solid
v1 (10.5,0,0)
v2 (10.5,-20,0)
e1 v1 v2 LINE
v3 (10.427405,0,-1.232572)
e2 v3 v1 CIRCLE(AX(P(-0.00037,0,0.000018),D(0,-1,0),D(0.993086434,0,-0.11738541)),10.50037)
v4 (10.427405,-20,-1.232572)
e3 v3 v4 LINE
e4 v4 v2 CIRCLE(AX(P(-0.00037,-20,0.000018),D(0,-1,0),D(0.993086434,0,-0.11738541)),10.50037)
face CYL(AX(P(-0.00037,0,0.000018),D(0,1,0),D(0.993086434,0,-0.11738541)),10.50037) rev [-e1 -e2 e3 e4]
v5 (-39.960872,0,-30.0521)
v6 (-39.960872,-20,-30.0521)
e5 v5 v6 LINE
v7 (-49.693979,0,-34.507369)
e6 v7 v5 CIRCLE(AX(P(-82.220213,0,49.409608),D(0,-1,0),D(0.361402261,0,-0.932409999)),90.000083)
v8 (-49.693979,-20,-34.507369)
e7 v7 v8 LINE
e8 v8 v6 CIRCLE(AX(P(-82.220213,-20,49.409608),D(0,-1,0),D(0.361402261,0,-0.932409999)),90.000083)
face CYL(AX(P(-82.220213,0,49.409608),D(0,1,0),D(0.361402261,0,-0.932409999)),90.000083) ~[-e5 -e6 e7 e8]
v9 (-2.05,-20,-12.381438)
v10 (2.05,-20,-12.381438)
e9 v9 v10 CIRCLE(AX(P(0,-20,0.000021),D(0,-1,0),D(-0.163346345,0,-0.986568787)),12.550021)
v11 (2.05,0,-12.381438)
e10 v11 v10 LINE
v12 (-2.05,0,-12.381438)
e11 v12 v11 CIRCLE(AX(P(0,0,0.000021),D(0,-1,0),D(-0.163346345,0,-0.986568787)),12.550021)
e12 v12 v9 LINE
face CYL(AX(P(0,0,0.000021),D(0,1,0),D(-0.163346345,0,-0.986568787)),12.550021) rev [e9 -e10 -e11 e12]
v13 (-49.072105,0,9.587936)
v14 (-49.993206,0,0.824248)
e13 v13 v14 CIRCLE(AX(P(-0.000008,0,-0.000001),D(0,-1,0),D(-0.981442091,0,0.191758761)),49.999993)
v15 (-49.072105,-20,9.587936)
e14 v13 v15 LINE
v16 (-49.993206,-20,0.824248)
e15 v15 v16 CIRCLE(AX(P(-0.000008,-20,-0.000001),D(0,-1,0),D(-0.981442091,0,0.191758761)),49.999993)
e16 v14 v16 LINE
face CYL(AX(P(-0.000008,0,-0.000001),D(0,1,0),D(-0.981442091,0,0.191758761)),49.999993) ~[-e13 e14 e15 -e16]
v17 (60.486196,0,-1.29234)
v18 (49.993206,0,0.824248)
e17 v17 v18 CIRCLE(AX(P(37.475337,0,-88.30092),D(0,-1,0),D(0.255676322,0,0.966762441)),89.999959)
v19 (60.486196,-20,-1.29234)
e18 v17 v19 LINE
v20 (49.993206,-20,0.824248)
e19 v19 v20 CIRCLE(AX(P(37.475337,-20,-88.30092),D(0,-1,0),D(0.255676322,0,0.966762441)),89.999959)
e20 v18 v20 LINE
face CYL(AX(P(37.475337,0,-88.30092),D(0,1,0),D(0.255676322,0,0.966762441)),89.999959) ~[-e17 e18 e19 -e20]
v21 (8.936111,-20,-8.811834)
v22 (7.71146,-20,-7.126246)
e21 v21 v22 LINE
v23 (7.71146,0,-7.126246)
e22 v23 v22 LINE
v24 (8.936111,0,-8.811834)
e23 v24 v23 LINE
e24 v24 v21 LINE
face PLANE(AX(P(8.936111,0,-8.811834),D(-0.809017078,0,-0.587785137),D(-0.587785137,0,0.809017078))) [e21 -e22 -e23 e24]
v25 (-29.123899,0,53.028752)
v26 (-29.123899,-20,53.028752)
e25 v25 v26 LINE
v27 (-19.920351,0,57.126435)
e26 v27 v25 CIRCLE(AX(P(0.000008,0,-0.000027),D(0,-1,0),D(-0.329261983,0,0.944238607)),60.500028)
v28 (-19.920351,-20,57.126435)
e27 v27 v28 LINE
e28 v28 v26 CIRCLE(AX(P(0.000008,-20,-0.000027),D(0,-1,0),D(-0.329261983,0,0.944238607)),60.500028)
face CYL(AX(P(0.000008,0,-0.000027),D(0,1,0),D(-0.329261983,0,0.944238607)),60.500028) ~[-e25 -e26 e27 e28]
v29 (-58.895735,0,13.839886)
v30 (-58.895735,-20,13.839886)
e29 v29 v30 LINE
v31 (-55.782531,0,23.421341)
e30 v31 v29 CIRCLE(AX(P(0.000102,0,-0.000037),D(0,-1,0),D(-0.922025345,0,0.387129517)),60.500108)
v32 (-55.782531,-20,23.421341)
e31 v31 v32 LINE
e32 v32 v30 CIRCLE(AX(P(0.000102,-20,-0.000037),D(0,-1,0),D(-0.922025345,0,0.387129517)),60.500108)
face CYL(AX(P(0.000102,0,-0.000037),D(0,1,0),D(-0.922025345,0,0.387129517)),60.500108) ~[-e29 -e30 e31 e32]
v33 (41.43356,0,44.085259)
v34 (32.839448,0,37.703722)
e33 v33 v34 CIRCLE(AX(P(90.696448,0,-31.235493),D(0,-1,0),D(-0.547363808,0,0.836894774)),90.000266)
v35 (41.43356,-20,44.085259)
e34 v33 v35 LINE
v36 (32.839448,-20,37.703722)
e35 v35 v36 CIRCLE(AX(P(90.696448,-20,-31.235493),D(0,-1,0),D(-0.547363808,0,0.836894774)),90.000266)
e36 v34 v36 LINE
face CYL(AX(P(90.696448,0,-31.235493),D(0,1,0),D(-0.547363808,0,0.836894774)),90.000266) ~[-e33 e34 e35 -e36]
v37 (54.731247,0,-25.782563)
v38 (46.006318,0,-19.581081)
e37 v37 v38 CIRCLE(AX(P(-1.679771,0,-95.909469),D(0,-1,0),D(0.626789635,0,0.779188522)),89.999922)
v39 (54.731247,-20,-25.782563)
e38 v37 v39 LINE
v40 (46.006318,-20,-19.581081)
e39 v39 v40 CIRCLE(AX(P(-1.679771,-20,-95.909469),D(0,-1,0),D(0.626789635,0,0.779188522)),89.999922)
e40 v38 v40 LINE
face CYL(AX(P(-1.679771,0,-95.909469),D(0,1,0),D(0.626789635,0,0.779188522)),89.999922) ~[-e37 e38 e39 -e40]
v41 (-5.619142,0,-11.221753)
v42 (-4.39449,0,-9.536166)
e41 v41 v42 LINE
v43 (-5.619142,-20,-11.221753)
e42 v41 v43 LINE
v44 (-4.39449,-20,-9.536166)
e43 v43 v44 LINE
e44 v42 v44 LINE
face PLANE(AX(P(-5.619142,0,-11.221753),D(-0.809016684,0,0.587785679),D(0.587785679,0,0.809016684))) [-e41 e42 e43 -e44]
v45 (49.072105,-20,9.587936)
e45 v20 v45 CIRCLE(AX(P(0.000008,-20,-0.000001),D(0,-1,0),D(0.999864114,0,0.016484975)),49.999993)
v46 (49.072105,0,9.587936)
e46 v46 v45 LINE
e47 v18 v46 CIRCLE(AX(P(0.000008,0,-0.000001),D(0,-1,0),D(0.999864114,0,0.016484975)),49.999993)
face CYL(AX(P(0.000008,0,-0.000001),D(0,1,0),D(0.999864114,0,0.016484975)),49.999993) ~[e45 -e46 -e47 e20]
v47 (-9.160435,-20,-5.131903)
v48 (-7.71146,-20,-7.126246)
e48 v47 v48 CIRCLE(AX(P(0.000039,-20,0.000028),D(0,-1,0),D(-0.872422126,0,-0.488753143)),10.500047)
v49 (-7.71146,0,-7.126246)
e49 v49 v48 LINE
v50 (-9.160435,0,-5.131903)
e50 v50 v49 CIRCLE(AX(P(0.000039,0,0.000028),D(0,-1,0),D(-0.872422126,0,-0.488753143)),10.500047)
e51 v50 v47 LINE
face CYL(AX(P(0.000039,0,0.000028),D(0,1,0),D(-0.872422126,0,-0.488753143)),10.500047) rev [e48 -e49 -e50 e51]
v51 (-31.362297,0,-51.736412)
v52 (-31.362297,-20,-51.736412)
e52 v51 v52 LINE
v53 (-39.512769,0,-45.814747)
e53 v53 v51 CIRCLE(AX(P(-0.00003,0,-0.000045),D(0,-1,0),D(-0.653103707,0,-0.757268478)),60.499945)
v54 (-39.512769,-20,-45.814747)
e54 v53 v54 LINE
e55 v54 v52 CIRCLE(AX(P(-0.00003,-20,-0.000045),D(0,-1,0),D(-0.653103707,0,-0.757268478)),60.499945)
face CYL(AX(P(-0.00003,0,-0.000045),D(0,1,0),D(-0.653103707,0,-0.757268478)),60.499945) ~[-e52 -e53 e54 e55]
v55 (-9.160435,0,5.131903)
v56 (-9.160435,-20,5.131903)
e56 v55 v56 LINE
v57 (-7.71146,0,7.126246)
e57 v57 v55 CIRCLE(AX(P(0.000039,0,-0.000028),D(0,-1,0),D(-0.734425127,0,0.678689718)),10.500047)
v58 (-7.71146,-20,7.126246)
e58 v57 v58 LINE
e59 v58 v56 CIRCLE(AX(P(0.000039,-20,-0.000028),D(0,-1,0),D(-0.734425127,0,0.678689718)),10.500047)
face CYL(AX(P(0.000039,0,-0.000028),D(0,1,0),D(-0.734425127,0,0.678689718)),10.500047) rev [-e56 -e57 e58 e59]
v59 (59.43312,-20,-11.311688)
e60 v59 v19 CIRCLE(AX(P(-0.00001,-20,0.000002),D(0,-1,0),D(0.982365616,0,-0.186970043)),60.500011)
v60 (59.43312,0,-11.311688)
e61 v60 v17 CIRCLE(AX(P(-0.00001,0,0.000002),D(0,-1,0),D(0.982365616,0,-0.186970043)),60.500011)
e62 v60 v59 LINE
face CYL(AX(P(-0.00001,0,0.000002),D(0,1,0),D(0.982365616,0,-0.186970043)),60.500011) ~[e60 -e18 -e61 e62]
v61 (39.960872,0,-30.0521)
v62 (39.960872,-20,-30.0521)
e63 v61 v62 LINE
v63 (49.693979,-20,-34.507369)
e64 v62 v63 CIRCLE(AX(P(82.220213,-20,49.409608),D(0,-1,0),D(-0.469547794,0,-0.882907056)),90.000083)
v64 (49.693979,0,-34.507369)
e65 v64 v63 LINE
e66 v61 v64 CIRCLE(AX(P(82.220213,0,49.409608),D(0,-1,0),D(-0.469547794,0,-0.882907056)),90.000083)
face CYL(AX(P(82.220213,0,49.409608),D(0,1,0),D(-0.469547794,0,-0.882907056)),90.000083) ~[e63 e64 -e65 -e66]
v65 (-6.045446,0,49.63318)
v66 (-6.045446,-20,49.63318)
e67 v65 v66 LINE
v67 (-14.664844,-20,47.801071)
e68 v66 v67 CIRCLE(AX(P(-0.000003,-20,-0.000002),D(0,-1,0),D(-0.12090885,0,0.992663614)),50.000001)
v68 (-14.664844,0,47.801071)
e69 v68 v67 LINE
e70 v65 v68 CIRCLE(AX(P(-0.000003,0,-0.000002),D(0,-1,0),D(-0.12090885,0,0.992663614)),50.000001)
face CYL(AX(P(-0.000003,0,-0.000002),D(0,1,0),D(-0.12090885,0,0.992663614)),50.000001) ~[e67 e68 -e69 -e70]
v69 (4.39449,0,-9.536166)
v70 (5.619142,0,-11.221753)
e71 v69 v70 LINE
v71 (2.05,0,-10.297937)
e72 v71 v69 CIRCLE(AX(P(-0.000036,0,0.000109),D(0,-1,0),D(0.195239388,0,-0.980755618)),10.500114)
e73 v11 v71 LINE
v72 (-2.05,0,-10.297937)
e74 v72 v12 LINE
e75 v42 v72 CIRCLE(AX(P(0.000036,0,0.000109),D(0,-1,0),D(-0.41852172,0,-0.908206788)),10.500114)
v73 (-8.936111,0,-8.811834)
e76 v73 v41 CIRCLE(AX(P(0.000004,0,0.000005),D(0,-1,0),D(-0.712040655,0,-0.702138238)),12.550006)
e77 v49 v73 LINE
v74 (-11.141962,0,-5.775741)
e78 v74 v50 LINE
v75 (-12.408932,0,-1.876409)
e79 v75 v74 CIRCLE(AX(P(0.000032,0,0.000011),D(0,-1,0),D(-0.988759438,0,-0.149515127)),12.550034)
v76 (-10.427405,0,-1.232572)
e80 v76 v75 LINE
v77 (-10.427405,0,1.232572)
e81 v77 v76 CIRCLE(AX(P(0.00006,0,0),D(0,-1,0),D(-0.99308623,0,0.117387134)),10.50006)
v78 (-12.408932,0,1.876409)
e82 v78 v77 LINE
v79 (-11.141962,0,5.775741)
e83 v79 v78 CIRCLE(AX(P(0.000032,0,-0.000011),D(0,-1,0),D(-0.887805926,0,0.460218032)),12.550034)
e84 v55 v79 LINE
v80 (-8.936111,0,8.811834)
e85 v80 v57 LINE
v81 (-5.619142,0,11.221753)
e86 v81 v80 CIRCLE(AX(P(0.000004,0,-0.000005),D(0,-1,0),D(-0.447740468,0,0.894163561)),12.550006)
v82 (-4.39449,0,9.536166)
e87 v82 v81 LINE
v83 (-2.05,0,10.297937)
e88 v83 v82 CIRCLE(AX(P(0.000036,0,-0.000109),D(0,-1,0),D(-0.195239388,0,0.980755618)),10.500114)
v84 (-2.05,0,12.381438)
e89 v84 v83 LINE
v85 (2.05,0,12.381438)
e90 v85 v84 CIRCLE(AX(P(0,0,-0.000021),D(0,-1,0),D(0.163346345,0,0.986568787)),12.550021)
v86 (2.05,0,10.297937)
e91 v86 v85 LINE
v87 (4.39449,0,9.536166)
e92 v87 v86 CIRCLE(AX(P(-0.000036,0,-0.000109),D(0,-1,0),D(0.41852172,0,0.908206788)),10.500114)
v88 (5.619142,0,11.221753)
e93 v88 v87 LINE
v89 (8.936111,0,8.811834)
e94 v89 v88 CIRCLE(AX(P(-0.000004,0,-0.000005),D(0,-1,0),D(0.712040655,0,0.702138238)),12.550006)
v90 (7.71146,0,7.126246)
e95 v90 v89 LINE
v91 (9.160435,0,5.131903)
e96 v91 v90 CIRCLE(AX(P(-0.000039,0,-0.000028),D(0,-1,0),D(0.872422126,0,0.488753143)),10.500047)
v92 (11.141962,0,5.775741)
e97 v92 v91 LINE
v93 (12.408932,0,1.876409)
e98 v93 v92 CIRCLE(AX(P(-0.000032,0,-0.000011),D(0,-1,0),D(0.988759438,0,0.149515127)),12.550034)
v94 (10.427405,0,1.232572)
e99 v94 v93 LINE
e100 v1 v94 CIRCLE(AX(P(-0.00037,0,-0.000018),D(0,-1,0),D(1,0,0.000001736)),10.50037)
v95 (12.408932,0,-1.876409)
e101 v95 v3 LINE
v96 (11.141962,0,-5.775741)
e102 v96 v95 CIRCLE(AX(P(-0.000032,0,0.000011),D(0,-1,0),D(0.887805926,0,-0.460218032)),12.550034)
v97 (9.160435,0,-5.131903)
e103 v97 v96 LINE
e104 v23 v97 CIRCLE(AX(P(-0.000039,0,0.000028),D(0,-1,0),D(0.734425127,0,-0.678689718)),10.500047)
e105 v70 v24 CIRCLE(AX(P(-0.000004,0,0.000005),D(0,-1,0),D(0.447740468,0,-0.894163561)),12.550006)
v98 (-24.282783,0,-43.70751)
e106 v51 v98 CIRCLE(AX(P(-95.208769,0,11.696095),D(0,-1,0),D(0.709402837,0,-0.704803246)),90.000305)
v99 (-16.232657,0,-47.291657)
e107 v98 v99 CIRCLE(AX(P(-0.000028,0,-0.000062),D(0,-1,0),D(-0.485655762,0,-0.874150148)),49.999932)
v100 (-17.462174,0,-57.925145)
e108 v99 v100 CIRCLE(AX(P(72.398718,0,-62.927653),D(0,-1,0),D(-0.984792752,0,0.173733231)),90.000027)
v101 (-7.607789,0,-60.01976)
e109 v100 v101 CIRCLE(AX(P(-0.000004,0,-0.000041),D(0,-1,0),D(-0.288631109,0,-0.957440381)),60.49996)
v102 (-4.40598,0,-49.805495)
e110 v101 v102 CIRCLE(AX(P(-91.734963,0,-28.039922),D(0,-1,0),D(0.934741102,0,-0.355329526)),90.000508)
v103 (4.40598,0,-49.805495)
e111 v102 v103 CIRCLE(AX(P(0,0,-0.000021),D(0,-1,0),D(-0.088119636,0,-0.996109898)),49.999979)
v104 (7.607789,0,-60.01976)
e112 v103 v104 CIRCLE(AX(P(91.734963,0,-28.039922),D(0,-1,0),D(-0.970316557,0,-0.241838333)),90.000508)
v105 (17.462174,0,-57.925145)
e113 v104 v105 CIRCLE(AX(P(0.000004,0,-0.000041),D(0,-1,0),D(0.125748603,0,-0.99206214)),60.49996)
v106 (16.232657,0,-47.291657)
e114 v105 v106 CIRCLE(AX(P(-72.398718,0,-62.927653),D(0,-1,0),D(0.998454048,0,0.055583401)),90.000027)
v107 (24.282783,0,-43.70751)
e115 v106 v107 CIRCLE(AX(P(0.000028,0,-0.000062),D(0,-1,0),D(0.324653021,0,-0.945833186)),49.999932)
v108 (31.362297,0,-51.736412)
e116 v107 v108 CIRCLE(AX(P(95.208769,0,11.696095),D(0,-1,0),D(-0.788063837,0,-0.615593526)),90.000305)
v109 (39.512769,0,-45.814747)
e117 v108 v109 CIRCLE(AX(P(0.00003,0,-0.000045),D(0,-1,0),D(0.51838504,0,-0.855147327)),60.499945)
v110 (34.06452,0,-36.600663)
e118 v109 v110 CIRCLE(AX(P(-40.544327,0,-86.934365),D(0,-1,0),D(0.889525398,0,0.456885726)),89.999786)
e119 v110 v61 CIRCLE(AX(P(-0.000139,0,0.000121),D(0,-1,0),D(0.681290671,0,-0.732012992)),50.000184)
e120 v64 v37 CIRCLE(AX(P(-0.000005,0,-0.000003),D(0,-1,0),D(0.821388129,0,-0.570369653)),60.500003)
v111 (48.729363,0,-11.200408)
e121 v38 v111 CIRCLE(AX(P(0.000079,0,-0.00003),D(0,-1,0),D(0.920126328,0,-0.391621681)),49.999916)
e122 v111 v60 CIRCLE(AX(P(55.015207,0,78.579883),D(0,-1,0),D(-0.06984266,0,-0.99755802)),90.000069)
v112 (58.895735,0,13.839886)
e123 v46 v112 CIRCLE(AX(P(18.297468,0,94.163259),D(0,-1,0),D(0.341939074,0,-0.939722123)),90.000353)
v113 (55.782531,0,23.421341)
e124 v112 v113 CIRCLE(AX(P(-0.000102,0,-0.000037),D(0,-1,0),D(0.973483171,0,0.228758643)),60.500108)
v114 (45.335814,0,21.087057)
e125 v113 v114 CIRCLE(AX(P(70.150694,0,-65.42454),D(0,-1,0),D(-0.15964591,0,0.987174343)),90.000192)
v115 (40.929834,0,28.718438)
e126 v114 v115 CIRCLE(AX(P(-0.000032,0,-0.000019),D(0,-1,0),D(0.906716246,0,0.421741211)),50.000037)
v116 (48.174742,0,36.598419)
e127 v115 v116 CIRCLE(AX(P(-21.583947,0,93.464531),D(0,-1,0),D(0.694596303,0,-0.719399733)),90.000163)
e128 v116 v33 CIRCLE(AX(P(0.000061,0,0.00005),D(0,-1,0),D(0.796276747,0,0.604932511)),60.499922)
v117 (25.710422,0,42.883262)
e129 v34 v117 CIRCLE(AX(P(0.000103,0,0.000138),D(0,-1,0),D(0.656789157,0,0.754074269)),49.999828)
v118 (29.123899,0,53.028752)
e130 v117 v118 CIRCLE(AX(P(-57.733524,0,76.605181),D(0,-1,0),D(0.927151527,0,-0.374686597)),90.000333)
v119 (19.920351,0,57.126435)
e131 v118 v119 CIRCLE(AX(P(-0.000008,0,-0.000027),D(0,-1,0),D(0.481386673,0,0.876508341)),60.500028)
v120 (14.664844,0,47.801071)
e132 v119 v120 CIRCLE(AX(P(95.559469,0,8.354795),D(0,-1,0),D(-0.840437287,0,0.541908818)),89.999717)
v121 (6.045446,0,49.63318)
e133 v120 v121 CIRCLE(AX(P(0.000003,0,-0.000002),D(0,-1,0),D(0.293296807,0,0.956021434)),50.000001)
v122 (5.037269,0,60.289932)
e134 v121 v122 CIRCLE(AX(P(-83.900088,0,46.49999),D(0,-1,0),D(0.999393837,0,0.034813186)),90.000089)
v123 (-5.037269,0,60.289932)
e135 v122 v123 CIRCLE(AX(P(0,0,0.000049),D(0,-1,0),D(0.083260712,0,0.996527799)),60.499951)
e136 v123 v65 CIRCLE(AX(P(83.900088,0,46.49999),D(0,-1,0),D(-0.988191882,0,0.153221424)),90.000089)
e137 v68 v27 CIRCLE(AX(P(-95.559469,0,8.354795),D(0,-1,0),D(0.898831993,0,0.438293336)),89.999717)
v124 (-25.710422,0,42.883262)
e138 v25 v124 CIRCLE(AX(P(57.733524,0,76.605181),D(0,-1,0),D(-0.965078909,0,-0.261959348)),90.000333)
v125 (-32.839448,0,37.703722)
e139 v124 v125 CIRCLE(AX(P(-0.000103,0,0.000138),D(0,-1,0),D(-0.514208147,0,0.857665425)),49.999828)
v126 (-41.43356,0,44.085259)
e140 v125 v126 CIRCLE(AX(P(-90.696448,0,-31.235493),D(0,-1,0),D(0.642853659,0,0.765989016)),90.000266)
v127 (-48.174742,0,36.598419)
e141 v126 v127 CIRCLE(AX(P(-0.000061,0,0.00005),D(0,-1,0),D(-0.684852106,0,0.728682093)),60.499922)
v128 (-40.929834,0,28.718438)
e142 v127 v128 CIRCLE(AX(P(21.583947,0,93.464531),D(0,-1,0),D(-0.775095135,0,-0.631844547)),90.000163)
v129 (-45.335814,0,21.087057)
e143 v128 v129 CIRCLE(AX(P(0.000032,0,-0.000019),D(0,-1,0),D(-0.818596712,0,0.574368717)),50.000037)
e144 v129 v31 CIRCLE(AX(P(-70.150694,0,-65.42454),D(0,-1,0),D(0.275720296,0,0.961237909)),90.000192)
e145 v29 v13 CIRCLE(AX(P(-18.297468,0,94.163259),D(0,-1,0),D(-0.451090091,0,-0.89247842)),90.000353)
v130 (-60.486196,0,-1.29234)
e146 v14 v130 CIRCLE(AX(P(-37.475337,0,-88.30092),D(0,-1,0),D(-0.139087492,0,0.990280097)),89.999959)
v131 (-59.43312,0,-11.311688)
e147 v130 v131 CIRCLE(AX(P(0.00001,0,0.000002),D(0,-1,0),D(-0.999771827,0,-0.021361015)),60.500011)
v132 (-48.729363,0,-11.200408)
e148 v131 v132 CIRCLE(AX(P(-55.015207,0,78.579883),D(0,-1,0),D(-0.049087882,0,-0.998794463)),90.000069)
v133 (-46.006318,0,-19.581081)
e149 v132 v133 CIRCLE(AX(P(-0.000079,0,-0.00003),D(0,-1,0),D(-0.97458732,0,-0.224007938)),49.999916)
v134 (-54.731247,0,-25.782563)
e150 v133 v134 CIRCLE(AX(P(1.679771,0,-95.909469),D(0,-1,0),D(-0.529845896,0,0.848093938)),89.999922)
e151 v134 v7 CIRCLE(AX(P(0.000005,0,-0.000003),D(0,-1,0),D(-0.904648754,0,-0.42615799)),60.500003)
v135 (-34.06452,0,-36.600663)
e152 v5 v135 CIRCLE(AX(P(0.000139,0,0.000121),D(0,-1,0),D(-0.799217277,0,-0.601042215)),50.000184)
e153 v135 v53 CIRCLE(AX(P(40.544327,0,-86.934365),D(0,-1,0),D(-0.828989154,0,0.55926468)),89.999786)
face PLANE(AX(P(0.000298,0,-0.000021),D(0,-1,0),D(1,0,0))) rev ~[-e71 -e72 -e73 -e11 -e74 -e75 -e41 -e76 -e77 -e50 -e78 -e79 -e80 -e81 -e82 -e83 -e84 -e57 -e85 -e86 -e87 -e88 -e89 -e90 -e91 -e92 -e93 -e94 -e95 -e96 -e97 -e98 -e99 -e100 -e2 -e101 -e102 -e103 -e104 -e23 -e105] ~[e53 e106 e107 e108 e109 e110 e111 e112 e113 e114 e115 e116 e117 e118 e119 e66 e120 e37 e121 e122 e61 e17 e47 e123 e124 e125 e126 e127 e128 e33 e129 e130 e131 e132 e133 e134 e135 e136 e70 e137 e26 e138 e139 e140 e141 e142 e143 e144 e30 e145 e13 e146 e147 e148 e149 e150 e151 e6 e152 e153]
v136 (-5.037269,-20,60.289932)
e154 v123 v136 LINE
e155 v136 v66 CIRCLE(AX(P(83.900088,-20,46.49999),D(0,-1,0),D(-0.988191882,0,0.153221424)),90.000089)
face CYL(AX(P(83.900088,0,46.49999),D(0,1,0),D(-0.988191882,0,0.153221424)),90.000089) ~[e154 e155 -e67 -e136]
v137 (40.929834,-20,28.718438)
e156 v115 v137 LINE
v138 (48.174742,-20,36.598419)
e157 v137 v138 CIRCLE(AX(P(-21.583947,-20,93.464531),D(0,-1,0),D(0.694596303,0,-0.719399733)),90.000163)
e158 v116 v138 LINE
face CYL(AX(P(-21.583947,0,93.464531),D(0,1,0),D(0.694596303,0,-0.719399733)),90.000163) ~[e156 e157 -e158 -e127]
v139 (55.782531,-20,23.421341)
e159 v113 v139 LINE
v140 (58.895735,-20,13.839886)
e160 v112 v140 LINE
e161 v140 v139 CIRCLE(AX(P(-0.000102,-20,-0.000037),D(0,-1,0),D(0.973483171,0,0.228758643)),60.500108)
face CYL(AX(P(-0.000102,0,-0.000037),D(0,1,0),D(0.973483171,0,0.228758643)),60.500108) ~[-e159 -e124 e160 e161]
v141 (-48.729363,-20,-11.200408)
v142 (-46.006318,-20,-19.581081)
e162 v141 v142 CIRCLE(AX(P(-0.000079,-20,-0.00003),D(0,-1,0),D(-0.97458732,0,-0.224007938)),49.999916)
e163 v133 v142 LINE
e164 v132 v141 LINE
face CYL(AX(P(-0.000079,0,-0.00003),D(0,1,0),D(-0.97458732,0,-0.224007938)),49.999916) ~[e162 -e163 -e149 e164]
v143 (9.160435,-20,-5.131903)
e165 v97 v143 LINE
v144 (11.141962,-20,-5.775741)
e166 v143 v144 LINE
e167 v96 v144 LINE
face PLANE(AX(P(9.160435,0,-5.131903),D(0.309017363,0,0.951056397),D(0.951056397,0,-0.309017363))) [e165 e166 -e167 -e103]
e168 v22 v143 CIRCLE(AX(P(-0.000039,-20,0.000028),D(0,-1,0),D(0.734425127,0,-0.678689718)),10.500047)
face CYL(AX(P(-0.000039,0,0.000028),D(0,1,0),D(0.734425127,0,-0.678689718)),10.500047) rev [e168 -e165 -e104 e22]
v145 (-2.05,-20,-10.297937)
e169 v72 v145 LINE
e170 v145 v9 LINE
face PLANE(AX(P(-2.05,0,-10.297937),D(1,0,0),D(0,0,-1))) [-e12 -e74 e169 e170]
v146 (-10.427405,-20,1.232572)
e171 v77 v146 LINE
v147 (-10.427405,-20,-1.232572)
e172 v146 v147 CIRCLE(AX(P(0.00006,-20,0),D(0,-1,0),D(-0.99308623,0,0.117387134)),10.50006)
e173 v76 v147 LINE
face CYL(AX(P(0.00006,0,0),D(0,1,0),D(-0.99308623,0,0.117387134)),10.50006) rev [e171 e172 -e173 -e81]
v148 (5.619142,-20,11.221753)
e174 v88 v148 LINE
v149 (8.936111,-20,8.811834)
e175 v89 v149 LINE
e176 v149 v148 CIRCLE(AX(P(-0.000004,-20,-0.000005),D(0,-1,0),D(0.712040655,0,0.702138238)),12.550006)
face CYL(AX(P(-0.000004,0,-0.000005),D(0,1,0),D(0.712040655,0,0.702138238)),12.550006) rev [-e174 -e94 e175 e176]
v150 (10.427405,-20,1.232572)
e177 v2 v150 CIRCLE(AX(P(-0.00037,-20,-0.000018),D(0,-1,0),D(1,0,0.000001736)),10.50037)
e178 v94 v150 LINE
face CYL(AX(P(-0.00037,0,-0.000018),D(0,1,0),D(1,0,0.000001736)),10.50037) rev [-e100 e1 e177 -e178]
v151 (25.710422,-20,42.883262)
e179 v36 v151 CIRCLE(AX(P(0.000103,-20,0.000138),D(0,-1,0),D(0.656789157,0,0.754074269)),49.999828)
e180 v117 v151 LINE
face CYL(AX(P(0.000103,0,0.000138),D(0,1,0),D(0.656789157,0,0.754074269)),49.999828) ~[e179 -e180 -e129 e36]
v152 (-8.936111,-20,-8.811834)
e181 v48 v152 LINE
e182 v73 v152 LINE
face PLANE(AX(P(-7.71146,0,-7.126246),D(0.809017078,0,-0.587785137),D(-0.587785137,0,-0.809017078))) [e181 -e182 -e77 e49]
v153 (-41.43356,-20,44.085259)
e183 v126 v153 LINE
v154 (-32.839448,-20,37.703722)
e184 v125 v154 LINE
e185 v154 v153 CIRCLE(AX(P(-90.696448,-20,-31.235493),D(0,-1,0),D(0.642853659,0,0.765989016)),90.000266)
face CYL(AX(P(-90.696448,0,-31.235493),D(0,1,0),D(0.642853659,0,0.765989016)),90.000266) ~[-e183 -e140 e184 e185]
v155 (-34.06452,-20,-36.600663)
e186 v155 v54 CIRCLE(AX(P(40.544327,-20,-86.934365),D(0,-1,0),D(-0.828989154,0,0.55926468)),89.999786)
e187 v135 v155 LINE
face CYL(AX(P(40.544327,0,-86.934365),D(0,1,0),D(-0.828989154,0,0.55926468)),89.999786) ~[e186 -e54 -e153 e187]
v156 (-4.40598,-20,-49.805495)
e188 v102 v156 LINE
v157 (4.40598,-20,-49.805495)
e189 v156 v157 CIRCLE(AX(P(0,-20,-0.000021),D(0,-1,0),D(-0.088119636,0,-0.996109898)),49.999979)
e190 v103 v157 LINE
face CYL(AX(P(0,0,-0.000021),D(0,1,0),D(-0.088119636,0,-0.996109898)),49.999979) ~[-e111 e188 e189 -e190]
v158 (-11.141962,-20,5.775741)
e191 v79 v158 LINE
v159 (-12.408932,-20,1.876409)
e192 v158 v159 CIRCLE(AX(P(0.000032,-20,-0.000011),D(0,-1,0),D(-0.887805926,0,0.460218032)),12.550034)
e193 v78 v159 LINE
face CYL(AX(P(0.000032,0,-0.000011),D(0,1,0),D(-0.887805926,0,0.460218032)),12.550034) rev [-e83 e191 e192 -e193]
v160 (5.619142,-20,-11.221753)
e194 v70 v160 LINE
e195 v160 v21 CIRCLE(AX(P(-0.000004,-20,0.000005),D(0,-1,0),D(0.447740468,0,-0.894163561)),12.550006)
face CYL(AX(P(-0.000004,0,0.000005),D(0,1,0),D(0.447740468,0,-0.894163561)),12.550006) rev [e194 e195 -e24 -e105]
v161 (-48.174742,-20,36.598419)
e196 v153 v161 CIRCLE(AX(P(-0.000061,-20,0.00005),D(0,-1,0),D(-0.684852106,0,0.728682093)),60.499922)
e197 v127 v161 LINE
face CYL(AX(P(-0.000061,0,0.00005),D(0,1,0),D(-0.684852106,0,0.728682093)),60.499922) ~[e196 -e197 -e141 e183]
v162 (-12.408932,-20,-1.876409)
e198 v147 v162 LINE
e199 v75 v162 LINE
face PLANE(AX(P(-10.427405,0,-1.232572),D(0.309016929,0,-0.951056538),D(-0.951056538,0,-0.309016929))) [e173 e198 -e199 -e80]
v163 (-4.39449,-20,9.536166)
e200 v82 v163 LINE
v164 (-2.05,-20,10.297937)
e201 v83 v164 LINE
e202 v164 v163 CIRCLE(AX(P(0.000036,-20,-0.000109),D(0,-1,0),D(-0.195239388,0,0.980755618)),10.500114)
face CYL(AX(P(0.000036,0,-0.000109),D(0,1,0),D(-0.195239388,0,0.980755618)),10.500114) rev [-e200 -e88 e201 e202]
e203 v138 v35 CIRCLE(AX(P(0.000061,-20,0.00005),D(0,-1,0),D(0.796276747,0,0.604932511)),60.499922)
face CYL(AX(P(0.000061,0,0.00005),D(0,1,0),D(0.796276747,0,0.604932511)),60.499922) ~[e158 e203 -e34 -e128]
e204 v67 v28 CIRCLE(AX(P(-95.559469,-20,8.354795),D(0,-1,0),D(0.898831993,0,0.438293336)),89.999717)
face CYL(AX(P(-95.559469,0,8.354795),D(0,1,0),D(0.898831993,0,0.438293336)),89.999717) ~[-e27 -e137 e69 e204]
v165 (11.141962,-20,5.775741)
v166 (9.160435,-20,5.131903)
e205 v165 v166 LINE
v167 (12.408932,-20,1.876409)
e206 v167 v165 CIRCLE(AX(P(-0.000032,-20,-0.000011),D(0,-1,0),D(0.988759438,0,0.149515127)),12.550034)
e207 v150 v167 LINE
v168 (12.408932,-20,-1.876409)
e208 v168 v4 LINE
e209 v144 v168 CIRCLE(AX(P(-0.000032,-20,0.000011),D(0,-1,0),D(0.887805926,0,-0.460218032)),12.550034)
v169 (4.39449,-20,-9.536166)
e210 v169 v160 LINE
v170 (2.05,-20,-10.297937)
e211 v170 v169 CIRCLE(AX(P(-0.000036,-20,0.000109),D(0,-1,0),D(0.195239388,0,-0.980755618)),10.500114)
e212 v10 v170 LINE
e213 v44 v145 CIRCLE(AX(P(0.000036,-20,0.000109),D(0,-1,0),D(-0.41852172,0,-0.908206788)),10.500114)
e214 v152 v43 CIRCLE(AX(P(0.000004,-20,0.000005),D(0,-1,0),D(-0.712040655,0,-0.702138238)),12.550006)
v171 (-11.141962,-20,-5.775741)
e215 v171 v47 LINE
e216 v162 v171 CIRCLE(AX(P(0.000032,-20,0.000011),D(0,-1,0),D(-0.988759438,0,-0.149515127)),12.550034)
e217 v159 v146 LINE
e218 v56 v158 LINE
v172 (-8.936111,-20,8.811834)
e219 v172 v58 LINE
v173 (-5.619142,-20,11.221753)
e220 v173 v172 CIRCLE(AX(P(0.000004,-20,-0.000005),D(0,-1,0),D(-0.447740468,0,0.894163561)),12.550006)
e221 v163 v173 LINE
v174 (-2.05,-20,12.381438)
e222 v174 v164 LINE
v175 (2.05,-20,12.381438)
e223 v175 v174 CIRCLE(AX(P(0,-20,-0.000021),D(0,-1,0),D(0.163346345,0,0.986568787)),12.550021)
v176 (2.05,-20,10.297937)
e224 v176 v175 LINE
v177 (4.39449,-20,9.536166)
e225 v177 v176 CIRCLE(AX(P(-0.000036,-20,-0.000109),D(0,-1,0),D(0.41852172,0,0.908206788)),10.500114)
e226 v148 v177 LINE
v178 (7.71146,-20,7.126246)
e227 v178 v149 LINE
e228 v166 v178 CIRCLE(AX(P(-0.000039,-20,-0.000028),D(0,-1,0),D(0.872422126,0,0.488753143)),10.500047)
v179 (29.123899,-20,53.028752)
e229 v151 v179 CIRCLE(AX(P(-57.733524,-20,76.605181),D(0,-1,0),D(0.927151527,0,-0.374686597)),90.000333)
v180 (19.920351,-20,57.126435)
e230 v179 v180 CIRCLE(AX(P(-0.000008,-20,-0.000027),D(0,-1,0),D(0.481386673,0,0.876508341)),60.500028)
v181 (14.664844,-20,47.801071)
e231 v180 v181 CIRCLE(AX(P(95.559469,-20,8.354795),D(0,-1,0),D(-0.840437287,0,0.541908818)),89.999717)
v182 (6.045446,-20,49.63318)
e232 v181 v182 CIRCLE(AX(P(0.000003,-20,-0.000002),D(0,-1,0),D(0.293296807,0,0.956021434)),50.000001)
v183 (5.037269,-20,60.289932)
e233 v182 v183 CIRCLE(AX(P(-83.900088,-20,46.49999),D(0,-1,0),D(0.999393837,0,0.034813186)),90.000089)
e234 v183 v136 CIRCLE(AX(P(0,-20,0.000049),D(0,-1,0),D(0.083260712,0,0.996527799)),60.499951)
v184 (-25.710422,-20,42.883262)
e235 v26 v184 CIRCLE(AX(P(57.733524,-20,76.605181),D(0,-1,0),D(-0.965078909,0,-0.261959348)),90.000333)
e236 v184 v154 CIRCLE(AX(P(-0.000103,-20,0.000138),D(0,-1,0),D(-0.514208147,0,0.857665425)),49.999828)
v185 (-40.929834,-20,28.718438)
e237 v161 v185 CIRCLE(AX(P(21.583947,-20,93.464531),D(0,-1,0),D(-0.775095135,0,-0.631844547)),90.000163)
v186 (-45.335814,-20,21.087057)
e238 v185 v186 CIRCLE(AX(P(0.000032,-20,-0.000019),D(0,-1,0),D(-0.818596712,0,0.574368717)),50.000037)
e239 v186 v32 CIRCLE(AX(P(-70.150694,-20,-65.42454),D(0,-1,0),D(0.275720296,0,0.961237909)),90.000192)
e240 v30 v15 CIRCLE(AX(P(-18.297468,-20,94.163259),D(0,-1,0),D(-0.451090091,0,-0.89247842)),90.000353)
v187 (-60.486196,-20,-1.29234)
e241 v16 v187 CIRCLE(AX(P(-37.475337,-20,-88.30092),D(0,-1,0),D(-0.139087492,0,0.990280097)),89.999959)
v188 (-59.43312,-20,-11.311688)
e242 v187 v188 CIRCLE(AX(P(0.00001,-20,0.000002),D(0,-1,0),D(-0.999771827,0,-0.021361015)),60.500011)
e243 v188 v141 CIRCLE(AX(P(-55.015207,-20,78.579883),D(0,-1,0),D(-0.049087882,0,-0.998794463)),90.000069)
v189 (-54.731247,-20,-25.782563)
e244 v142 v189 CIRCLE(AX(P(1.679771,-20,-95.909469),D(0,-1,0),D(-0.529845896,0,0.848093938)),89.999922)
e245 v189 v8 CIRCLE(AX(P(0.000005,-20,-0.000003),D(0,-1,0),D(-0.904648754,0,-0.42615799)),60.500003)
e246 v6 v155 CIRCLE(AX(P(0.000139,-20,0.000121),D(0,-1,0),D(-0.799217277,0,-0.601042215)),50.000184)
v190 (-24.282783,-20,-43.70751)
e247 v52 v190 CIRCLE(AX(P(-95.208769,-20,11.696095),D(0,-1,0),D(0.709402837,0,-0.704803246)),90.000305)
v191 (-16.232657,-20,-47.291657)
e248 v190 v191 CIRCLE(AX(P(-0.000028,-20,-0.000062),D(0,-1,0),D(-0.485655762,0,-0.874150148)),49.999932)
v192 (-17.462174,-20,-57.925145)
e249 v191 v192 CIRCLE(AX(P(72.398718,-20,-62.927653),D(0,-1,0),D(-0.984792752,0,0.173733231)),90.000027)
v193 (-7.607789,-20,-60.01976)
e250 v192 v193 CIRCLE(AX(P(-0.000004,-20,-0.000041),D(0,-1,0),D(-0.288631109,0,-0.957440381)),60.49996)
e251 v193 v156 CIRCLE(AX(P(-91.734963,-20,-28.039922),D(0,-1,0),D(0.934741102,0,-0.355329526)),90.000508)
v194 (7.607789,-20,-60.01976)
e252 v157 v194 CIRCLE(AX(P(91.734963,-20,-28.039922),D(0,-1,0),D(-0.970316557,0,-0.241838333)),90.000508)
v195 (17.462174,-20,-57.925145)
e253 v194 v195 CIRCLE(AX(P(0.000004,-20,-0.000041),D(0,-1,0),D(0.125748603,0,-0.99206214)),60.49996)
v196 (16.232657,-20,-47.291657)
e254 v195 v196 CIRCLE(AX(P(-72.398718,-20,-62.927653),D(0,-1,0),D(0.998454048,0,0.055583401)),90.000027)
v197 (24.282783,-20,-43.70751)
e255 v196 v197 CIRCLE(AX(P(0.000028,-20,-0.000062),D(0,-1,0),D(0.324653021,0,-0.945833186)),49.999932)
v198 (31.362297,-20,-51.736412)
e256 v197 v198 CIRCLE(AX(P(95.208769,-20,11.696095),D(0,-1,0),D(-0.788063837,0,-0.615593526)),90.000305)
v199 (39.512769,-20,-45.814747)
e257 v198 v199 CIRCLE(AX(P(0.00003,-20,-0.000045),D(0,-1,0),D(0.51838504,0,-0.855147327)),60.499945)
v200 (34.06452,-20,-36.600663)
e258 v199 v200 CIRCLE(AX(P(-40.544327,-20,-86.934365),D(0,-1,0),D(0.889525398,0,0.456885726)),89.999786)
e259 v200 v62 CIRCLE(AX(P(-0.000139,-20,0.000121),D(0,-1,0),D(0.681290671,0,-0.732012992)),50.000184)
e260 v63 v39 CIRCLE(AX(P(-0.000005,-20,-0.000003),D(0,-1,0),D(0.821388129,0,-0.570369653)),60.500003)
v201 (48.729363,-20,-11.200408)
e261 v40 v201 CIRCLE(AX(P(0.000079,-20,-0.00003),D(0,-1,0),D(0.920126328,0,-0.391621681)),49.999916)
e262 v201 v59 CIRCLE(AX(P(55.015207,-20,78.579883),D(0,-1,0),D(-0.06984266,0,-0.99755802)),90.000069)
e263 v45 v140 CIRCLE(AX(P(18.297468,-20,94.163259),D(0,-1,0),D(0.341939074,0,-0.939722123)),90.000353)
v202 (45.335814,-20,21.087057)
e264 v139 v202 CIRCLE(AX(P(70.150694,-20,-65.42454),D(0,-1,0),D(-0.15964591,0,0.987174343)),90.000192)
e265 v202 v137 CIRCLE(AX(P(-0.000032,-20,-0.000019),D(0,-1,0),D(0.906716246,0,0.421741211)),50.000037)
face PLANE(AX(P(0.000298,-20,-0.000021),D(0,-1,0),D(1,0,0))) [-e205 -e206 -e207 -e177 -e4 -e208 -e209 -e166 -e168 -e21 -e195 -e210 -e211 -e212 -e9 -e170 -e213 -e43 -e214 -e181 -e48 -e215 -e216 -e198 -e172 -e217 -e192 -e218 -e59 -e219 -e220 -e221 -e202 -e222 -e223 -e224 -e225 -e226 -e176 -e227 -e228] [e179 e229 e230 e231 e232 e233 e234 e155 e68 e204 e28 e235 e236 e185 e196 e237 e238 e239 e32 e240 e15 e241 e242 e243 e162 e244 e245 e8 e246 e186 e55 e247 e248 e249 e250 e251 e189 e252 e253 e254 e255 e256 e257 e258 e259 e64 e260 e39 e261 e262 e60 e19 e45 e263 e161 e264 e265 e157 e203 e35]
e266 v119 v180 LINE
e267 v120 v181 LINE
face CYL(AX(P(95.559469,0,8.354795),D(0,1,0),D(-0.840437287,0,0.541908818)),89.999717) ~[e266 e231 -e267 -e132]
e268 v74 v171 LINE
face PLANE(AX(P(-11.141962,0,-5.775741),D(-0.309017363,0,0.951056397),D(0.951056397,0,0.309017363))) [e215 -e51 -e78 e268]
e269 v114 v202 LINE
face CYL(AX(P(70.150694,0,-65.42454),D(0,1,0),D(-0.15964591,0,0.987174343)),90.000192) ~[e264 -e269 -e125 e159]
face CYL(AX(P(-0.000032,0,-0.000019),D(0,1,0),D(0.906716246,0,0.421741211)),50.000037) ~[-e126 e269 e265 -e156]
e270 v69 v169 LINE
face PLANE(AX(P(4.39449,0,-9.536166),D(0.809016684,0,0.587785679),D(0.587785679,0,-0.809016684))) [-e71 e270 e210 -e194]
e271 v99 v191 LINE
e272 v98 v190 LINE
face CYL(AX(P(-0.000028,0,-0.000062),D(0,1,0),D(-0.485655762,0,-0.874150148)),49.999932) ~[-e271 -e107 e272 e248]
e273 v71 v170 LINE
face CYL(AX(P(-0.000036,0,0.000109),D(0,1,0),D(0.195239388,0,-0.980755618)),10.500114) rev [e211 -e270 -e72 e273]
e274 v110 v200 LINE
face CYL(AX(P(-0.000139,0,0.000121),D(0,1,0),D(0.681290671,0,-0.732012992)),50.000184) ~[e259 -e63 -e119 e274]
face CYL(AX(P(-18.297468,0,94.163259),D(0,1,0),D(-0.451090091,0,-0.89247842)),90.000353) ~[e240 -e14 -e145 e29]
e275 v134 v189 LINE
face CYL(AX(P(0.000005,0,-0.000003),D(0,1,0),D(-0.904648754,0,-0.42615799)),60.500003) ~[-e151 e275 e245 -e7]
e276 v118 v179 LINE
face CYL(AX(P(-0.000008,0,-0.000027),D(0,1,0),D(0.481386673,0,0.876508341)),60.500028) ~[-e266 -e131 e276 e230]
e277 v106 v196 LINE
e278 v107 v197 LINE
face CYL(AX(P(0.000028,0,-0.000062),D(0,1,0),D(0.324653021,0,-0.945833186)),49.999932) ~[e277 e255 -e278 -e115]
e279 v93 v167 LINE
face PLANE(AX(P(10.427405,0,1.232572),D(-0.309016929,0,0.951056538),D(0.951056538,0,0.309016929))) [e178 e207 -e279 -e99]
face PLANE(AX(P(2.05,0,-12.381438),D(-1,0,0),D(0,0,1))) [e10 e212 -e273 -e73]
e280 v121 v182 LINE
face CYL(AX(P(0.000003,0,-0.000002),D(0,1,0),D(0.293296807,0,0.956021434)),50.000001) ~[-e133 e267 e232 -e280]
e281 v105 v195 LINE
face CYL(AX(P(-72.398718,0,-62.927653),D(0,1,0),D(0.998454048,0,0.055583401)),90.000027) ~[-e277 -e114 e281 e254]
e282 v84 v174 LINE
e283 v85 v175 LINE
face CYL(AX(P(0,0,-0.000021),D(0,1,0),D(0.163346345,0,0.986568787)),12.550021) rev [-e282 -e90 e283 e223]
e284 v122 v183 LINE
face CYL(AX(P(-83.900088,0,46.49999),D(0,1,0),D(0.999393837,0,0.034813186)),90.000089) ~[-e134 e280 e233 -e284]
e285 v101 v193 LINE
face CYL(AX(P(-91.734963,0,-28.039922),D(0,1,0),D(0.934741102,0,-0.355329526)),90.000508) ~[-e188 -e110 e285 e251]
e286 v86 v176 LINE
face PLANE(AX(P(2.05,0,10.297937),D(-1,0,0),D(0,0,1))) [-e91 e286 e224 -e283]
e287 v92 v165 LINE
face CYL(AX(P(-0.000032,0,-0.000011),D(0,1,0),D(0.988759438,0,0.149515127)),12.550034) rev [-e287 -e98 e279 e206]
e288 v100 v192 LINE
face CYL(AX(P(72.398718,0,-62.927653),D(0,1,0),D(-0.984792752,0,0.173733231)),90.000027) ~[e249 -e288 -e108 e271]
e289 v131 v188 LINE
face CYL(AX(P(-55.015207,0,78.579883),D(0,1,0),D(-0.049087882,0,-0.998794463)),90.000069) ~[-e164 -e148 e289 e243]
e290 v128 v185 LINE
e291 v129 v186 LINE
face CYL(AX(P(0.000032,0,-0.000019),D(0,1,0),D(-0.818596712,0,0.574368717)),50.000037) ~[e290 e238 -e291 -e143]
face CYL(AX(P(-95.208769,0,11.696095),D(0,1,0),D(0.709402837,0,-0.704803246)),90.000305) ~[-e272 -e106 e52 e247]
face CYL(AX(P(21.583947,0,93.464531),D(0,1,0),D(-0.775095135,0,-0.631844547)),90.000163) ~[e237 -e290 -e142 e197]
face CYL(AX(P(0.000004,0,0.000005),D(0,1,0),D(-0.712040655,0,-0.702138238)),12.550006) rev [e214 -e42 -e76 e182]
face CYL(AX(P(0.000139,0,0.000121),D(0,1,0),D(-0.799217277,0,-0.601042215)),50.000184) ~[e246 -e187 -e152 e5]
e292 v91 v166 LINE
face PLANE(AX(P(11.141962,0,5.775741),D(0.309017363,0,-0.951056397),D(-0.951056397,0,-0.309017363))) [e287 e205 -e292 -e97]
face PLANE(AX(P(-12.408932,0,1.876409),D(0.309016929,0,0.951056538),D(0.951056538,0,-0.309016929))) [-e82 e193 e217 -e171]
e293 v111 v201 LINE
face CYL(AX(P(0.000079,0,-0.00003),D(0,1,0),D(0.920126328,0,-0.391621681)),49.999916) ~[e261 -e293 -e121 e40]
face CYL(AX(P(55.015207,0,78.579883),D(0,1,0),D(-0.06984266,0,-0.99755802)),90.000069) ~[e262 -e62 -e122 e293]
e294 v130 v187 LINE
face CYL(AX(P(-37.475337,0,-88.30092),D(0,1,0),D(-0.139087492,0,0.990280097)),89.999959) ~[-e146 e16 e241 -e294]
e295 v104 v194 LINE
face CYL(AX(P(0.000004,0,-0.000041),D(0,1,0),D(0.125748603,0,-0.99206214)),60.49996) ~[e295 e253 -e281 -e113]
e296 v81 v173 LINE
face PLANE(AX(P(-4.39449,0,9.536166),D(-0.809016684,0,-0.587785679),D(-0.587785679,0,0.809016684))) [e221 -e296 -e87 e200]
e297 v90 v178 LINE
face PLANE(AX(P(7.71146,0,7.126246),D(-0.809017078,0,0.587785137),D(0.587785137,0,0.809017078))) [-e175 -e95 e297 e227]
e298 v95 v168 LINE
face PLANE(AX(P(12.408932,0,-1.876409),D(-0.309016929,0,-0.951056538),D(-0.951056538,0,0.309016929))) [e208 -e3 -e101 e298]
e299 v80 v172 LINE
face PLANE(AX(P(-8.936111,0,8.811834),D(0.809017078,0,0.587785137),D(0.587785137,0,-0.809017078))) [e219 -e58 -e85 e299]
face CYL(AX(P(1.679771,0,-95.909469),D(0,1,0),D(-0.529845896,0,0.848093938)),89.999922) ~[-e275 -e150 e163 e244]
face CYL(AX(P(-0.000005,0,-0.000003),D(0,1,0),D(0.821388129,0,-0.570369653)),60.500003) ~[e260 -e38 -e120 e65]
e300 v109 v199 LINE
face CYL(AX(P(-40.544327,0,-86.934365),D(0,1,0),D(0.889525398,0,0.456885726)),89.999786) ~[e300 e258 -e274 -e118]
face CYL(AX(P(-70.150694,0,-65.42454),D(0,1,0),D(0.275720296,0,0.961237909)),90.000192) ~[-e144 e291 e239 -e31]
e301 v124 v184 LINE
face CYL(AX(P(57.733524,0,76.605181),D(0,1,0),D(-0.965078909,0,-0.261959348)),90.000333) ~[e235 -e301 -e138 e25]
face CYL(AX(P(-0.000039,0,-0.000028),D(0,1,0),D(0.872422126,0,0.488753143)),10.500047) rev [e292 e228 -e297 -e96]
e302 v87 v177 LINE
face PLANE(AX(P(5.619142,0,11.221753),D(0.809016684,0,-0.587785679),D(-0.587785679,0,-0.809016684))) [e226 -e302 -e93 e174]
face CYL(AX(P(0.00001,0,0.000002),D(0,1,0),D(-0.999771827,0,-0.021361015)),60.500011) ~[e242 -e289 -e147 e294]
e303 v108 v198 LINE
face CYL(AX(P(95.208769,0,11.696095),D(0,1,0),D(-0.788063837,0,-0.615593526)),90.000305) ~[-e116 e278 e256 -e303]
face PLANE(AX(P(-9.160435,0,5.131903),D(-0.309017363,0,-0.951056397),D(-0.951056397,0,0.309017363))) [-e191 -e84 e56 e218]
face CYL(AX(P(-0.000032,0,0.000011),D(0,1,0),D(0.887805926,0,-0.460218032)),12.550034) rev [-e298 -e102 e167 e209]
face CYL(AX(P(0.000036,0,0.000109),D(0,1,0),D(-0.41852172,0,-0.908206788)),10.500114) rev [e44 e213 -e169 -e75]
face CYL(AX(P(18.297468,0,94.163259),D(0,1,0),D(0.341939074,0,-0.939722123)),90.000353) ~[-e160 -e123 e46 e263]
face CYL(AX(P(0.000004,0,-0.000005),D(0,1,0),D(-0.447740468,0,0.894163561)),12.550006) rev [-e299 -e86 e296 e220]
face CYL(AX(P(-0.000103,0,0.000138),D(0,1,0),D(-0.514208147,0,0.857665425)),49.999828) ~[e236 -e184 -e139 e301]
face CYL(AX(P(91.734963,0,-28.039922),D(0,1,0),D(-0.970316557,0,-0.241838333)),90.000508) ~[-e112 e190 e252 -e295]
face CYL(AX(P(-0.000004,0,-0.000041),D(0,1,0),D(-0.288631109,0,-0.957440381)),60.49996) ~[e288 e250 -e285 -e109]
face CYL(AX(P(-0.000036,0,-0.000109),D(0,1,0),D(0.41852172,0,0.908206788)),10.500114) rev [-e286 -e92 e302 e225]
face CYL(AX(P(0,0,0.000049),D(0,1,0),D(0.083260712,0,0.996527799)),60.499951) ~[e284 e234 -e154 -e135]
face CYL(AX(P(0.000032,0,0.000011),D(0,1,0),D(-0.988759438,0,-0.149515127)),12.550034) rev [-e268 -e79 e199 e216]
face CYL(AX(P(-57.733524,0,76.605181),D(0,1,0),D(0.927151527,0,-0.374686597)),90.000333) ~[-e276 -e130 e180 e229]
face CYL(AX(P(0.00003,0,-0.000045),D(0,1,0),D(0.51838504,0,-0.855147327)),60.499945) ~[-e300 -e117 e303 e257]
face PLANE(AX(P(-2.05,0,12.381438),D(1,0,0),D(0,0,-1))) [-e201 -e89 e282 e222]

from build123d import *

# Parameters (mm, degrees)
F1_DEPTH = 20
F3_DEPTH = 20


with BuildPart() as f1:
    # F0 (on Front) → F1 (new body)
    with BuildSketch(Plane.XZ):
        with BuildLine():
            ThreePointArc((48.729363, -11.200408), (49.681325, -5.636126), (50, 0))
            ThreePointArc((50, 0), (49.998301, 0.412138), (49.993206, 0.824248))
            ThreePointArc((49.993206, 0.824248), (49.726095, 5.226423), (49.072105, 9.587936))
            ThreePointArc((49.072105, 9.587936), (47.552826, 15.45085), (45.335814, 21.087057))
            ThreePointArc((45.335814, 21.087057), (43.30127, 25), (40.929834, 28.718438))
            ThreePointArc((40.929834, 28.718438), (37.157241, 33.45653), (32.839448, 37.703722))
            ThreePointArc((32.839448, 37.703722), (29.389263, 40.45085), (25.710422, 42.883262))
            ThreePointArc((25.710422, 42.883262), (20.336832, 45.677273), (14.664844, 47.801071))
            ThreePointArc((14.664844, 47.801071), (10.395585, 48.90738), (6.045446, 49.63318))
            ThreePointArc((6.045446, 49.63318), (0, 50), (-6.045446, 49.63318))
            ThreePointArc((-6.045446, 49.63318), (-10.395585, 48.90738), (-14.664844, 47.801071))
            ThreePointArc((-14.664844, 47.801071), (-20.336832, 45.677273), (-25.710422, 42.883262))
            ThreePointArc((-25.710422, 42.883262), (-29.389263, 40.45085), (-32.839448, 37.703722))
            ThreePointArc((-32.839448, 37.703722), (-37.157241, 33.45653), (-40.929834, 28.718438))
            ThreePointArc((-40.929834, 28.718438), (-43.30127, 25), (-45.335814, 21.087057))
            ThreePointArc((-45.335814, 21.087057), (-47.552826, 15.45085), (-49.072105, 9.587936))
            ThreePointArc((-49.072105, 9.587936), (-49.726095, 5.226423), (-49.993206, 0.824248))
            ThreePointArc((-49.993206, 0.824248), (-49.726095, -5.226423), (-48.729363, -11.200408))
            ThreePointArc((-48.729363, -11.200408), (-47.552826, -15.45085), (-46.006318, -19.581081))
            ThreePointArc((-46.006318, -19.581081), (-43.30127, -25), (-39.960872, -30.0521))
            ThreePointArc((-39.960872, -30.0521), (-37.157241, -33.45653), (-34.06452, -36.600663))
            ThreePointArc((-34.06452, -36.600663), (-29.389263, -40.45085), (-24.282783, -43.70751))
            ThreePointArc((-24.282783, -43.70751), (-20.336832, -45.677273), (-16.232657, -47.291657))
            ThreePointArc((-16.232657, -47.291657), (-10.395585, -48.90738), (-4.40598, -49.805495))
            ThreePointArc((-4.40598, -49.805495), (0, -50), (4.40598, -49.805495))
            ThreePointArc((4.40598, -49.805495), (10.395585, -48.90738), (16.232657, -47.291657))
            ThreePointArc((16.232657, -47.291657), (20.336832, -45.677273), (24.282783, -43.70751))
            ThreePointArc((24.282783, -43.70751), (29.389263, -40.45085), (34.06452, -36.600663))
            ThreePointArc((34.06452, -36.600663), (37.157241, -33.45653), (39.960872, -30.0521))
            ThreePointArc((39.960872, -30.0521), (43.30127, -25), (46.006318, -19.581081))
            ThreePointArc((46.006318, -19.581081), (47.552826, -15.45085), (48.729363, -11.200408))
        make_face()
        with BuildLine():
            ThreePointArc((-25.710422, 42.883262), (-20.336832, 45.677273), (-14.664844, 47.801071))
            ThreePointArc((-14.664844, 47.801071), (-17.153833, 52.541957), (-19.920351, 57.126435))
            ThreePointArc((-19.920351, 57.126435), (-24.607567, 55.2695), (-29.123899, 53.028752))
            ThreePointArc((-29.123899, 53.028752), (-27.568128, 47.905214), (-25.710422, 42.883262))
        make_face()
        with BuildLine():
            ThreePointArc((-6.045446, 49.63318), (0, 50), (6.045446, 49.63318))
            ThreePointArc((6.045446, 49.63318), (5.699933, 54.976558), (5.037269, 60.289932))
            ThreePointArc((5.037269, 60.289932), (0, 60.5), (-5.037269, 60.289932))
            ThreePointArc((-5.037269, 60.289932), (-5.699933, 54.976558), (-6.045446, 49.63318))
        make_face()
        with BuildLine():
            ThreePointArc((14.664844, 47.801071), (20.336832, 45.677273), (25.710422, 42.883262))
            ThreePointArc((25.710422, 42.883262), (27.568128, 47.905214), (29.123899, 53.028752))
            ThreePointArc((29.123899, 53.028752), (24.607567, 55.2695), (19.920351, 57.126435))
            ThreePointArc((19.920351, 57.126435), (17.153833, 52.541957), (14.664844, 47.801071))
        make_face()
        with BuildLine():
            ThreePointArc((32.839448, 37.703722), (37.157241, 33.45653), (40.929834, 28.718438))
            ThreePointArc((40.929834, 28.718438), (44.669544, 32.550622), (48.174742, 36.598419))
            ThreePointArc((48.174742, 36.598419), (44.960262, 40.482402), (41.43356, 44.085259))
            ThreePointArc((41.43356, 44.085259), (37.041545, 41.022373), (32.839448, 37.703722))
        make_face()
        with BuildLine():
            ThreePointArc((45.335814, 21.087057), (47.552826, 15.45085), (49.072105, 9.587936))
            ThreePointArc((49.072105, 9.587936), (54.04719, 11.567733), (58.895735, 13.839886))
            ThreePointArc((58.895735, 13.839886), (57.538919, 18.695528), (55.782531, 23.421341))
            ThreePointArc((55.782531, 23.421341), (50.524438, 22.409649), (45.335814, 21.087057))
        make_face()
        with BuildLine():
            ThreePointArc((49.993206, 0.824248), (49.998301, 0.412138), (50, 0))
            ThreePointArc((50, 0), (49.681325, -5.636126), (48.729363, -11.200408))
            ThreePointArc((48.729363, -11.200408), (54.079586, -11.415323), (59.43312, -11.311688))
            ThreePointArc((59.43312, -11.311688), (60.168575, -6.323972), (60.486196, -1.29234))
            ThreePointArc((60.486196, -1.29234), (55.271196, -0.077907), (49.993206, 0.824248))
        make_face()
        with BuildLine():
            ThreePointArc((54.731247, -25.782563), (50.461062, -22.551992), (46.006318, -19.581081))
            ThreePointArc((46.006318, -19.581081), (43.30127, -25), (39.960872, -30.0521))
            ThreePointArc((39.960872, -30.0521), (44.76113, -32.424566), (49.693979, -34.507369))
            ThreePointArc((49.693979, -34.507369), (52.394537, -30.25), (54.731247, -25.782563))
        make_face()
        with BuildLine():
            ThreePointArc((39.512769, -45.814747), (36.925753, -41.126633), (34.06452, -36.600663))
            ThreePointArc((34.06452, -36.600663), (29.389263, -40.45085), (24.282783, -43.70751))
            ThreePointArc((24.282783, -43.70751), (27.703068, -47.827306), (31.362297, -51.736412))
            ThreePointArc((31.362297, -51.736412), (35.561008, -48.945528), (39.512769, -45.814747))
        make_face()
        with BuildLine():
            ThreePointArc((17.462174, -57.925145), (17.005645, -52.590106), (16.232657, -47.291657))
            ThreePointArc((16.232657, -47.291657), (10.395585, -48.90738), (4.40598, -49.805495))
            ThreePointArc((4.40598, -49.805495), (5.854894, -54.960271), (7.607789, -60.01976))
            ThreePointArc((7.607789, -60.01976), (12.578657, -59.17793), (17.462174, -57.925145))
        make_face()
        with BuildLine():
            ThreePointArc((-7.607789, -60.01976), (-5.854894, -54.960271), (-4.40598, -49.805495))
            ThreePointArc((-4.40598, -49.805495), (-10.395585, -48.90738), (-16.232657, -47.291657))
            ThreePointArc((-16.232657, -47.291657), (-17.005645, -52.590106), (-17.462174, -57.925145))
            ThreePointArc((-17.462174, -57.925145), (-12.578657, -59.17793), (-7.607789, -60.01976))
        make_face()
        with BuildLine():
            ThreePointArc((-31.362297, -51.736412), (-27.703068, -47.827306), (-24.282783, -43.70751))
            ThreePointArc((-24.282783, -43.70751), (-29.389263, -40.45085), (-34.06452, -36.600663))
            ThreePointArc((-34.06452, -36.600663), (-36.925753, -41.126633), (-39.512769, -45.814747))
            ThreePointArc((-39.512769, -45.814747), (-35.561008, -48.945528), (-31.362297, -51.736412))
        make_face()
        with BuildLine():
            ThreePointArc((-49.693979, -34.507369), (-44.76113, -32.424566), (-39.960872, -30.0521))
            ThreePointArc((-39.960872, -30.0521), (-43.30127, -25), (-46.006318, -19.581081))
            ThreePointArc((-46.006318, -19.581081), (-50.461062, -22.551992), (-54.731247, -25.782563))
            ThreePointArc((-54.731247, -25.782563), (-52.394537, -30.25), (-49.693979, -34.507369))
        make_face()
        with BuildLine():
            ThreePointArc((-59.43312, -11.311688), (-54.079586, -11.415323), (-48.729363, -11.200408))
            ThreePointArc((-48.729363, -11.200408), (-49.726095, -5.226423), (-49.993206, 0.824248))
            ThreePointArc((-49.993206, 0.824248), (-55.271196, -0.077907), (-60.486196, -1.29234))
            ThreePointArc((-60.486196, -1.29234), (-60.168575, -6.323972), (-59.43312, -11.311688))
        make_face()
        with BuildLine():
            ThreePointArc((-49.072105, 9.587936), (-47.552826, 15.45085), (-45.335814, 21.087057))
            ThreePointArc((-45.335814, 21.087057), (-50.524438, 22.409649), (-55.782531, 23.421341))
            ThreePointArc((-55.782531, 23.421341), (-57.538919, 18.695528), (-58.895735, 13.839886))
            ThreePointArc((-58.895735, 13.839886), (-54.04719, 11.567733), (-49.072105, 9.587936))
        make_face()
        with BuildLine():
            ThreePointArc((-40.929834, 28.718438), (-37.157241, 33.45653), (-32.839448, 37.703722))
            ThreePointArc((-32.839448, 37.703722), (-37.041545, 41.022373), (-41.43356, 44.085259))
            ThreePointArc((-41.43356, 44.085259), (-44.960262, 40.482402), (-48.174742, 36.598419))
            ThreePointArc((-48.174742, 36.598419), (-44.669544, 32.550622), (-40.929834, 28.718438))
        make_face()
    extrude(amount=F1_DEPTH)

    # F2 (on Front) → F3 (cut)
    with BuildSketch(Plane.XZ):
        with BuildLine():
            ThreePointArc((10.427405, -1.232572), (10.481835, -0.617354), (10.5, 0))
            ThreePointArc((10.5, 0), (10.481835, 0.617354), (10.427405, 1.232572))
            ThreePointArc((10.427405, 1.232572), (9.986093, 3.244678), (9.160435, 5.131903))
            ThreePointArc((9.160435, 5.131903), (8.494678, 6.171745), (7.71146, 7.126246))
            ThreePointArc((7.71146, 7.126246), (6.171745, 8.494678), (4.39449, 9.536166))
            ThreePointArc((4.39449, 9.536166), (3.244678, 9.986093), (2.05, 10.297937))
            ThreePointArc((2.05, 10.297937), (0, 10.5), (-2.05, 10.297937))
            ThreePointArc((-2.05, 10.297937), (-3.244678, 9.986093), (-4.39449, 9.536166))
            ThreePointArc((-4.39449, 9.536166), (-6.171745, 8.494678), (-7.71146, 7.126246))
            ThreePointArc((-7.71146, 7.126246), (-8.494678, 6.171745), (-9.160435, 5.131903))
            ThreePointArc((-9.160435, 5.131903), (-9.986093, 3.244678), (-10.427405, 1.232572))
            ThreePointArc((-10.427405, 1.232572), (-10.5, 0), (-10.427405, -1.232572))
            ThreePointArc((-10.427405, -1.232572), (-9.986093, -3.244678), (-9.160435, -5.131903))
            ThreePointArc((-9.160435, -5.131903), (-8.494678, -6.171745), (-7.71146, -7.126246))
            ThreePointArc((-7.71146, -7.126246), (-6.171745, -8.494678), (-4.39449, -9.536166))
            ThreePointArc((-4.39449, -9.536166), (-3.244678, -9.986093), (-2.05, -10.297937))
            ThreePointArc((-2.05, -10.297937), (0, -10.5), (2.05, -10.297937))
            ThreePointArc((2.05, -10.297937), (3.244678, -9.986093), (4.39449, -9.536166))
            ThreePointArc((4.39449, -9.536166), (6.171745, -8.494678), (7.71146, -7.126246))
            ThreePointArc((7.71146, -7.126246), (8.494678, -6.171745), (9.160435, -5.131903))
            ThreePointArc((9.160435, -5.131903), (9.986093, -3.244678), (10.427405, -1.232572))
        make_face()
        with BuildLine():
            ThreePointArc((-7.71146, 7.126246), (-6.171745, 8.494678), (-4.39449, 9.536166))
            Line((-4.39449, 9.536166), (-5.619142, 11.221753))
            ThreePointArc((-5.619142, 11.221753), (-7.376705, 10.153163), (-8.936111, 8.811834))
            Line((-8.936111, 8.811834), (-7.71146, 7.126246))
        make_face()
        with BuildLine():
            ThreePointArc((-10.427405, 1.232572), (-9.986093, 3.244678), (-9.160435, 5.131903))
            Line((-9.160435, 5.131903), (-11.141962, 5.775741))
            ThreePointArc((-11.141962, 5.775741), (-11.935759, 3.878163), (-12.408932, 1.876409))
            Line((-12.408932, 1.876409), (-10.427405, 1.232572))
        make_face()
        with BuildLine():
            ThreePointArc((-2.05, 10.297937), (0, 10.5), (2.05, 10.297937))
            Line((2.05, 10.297937), (2.05, 12.381438))
            ThreePointArc((2.05, 12.381438), (0, 12.55), (-2.05, 12.381438))
            Line((-2.05, 12.381438), (-2.05, 10.297937))
        make_face()
        with BuildLine():
            ThreePointArc((4.39449, 9.536166), (6.171745, 8.494678), (7.71146, 7.126246))
            Line((7.71146, 7.126246), (8.936111, 8.811834))
            ThreePointArc((8.936111, 8.811834), (7.376705, 10.153163), (5.619142, 11.221753))
            Line((5.619142, 11.221753), (4.39449, 9.536166))
        make_face()
        with BuildLine():
            ThreePointArc((9.160435, 5.131903), (9.986093, 3.244678), (10.427405, 1.232572))
            Line((10.427405, 1.232572), (12.408932, 1.876409))
            ThreePointArc((12.408932, 1.876409), (11.935759, 3.878163), (11.141962, 5.775741))
            Line((11.141962, 5.775741), (9.160435, 5.131903))
        make_face()
        with BuildLine():
            Line((12.408932, -1.876409), (10.427405, -1.232572))
            ThreePointArc((10.427405, -1.232572), (9.986093, -3.244678), (9.160435, -5.131903))
            Line((9.160435, -5.131903), (11.141962, -5.775741))
            ThreePointArc((11.141962, -5.775741), (11.935759, -3.878163), (12.408932, -1.876409))
        make_face()
        with BuildLine():
            Line((8.936111, -8.811834), (7.71146, -7.126246))
            ThreePointArc((7.71146, -7.126246), (6.171745, -8.494678), (4.39449, -9.536166))
            Line((4.39449, -9.536166), (5.619142, -11.221753))
            ThreePointArc((5.619142, -11.221753), (7.376705, -10.153163), (8.936111, -8.811834))
        make_face()
        with BuildLine():
            Line((2.05, -12.381438), (2.05, -10.297937))
            ThreePointArc((2.05, -10.297937), (0, -10.5), (-2.05, -10.297937))
            Line((-2.05, -10.297937), (-2.05, -12.381438))
            ThreePointArc((-2.05, -12.381438), (0, -12.55), (2.05, -12.381438))
        make_face()
        with BuildLine():
            Line((-5.619142, -11.221753), (-4.39449, -9.536166))
            ThreePointArc((-4.39449, -9.536166), (-6.171745, -8.494678), (-7.71146, -7.126246))
            Line((-7.71146, -7.126246), (-8.936111, -8.811834))
            ThreePointArc((-8.936111, -8.811834), (-7.376705, -10.153163), (-5.619142, -11.221753))
        make_face()
        with BuildLine():
            Line((-11.141962, -5.775741), (-9.160435, -5.131903))
            ThreePointArc((-9.160435, -5.131903), (-9.986093, -3.244678), (-10.427405, -1.232572))
            Line((-10.427405, -1.232572), (-12.408932, -1.876409))
            ThreePointArc((-12.408932, -1.876409), (-11.935759, -3.878163), (-11.141962, -5.775741))
        make_face()
    extrude(amount=F3_DEPTH, mode=Mode.SUBTRACT)


solid = f1.part
